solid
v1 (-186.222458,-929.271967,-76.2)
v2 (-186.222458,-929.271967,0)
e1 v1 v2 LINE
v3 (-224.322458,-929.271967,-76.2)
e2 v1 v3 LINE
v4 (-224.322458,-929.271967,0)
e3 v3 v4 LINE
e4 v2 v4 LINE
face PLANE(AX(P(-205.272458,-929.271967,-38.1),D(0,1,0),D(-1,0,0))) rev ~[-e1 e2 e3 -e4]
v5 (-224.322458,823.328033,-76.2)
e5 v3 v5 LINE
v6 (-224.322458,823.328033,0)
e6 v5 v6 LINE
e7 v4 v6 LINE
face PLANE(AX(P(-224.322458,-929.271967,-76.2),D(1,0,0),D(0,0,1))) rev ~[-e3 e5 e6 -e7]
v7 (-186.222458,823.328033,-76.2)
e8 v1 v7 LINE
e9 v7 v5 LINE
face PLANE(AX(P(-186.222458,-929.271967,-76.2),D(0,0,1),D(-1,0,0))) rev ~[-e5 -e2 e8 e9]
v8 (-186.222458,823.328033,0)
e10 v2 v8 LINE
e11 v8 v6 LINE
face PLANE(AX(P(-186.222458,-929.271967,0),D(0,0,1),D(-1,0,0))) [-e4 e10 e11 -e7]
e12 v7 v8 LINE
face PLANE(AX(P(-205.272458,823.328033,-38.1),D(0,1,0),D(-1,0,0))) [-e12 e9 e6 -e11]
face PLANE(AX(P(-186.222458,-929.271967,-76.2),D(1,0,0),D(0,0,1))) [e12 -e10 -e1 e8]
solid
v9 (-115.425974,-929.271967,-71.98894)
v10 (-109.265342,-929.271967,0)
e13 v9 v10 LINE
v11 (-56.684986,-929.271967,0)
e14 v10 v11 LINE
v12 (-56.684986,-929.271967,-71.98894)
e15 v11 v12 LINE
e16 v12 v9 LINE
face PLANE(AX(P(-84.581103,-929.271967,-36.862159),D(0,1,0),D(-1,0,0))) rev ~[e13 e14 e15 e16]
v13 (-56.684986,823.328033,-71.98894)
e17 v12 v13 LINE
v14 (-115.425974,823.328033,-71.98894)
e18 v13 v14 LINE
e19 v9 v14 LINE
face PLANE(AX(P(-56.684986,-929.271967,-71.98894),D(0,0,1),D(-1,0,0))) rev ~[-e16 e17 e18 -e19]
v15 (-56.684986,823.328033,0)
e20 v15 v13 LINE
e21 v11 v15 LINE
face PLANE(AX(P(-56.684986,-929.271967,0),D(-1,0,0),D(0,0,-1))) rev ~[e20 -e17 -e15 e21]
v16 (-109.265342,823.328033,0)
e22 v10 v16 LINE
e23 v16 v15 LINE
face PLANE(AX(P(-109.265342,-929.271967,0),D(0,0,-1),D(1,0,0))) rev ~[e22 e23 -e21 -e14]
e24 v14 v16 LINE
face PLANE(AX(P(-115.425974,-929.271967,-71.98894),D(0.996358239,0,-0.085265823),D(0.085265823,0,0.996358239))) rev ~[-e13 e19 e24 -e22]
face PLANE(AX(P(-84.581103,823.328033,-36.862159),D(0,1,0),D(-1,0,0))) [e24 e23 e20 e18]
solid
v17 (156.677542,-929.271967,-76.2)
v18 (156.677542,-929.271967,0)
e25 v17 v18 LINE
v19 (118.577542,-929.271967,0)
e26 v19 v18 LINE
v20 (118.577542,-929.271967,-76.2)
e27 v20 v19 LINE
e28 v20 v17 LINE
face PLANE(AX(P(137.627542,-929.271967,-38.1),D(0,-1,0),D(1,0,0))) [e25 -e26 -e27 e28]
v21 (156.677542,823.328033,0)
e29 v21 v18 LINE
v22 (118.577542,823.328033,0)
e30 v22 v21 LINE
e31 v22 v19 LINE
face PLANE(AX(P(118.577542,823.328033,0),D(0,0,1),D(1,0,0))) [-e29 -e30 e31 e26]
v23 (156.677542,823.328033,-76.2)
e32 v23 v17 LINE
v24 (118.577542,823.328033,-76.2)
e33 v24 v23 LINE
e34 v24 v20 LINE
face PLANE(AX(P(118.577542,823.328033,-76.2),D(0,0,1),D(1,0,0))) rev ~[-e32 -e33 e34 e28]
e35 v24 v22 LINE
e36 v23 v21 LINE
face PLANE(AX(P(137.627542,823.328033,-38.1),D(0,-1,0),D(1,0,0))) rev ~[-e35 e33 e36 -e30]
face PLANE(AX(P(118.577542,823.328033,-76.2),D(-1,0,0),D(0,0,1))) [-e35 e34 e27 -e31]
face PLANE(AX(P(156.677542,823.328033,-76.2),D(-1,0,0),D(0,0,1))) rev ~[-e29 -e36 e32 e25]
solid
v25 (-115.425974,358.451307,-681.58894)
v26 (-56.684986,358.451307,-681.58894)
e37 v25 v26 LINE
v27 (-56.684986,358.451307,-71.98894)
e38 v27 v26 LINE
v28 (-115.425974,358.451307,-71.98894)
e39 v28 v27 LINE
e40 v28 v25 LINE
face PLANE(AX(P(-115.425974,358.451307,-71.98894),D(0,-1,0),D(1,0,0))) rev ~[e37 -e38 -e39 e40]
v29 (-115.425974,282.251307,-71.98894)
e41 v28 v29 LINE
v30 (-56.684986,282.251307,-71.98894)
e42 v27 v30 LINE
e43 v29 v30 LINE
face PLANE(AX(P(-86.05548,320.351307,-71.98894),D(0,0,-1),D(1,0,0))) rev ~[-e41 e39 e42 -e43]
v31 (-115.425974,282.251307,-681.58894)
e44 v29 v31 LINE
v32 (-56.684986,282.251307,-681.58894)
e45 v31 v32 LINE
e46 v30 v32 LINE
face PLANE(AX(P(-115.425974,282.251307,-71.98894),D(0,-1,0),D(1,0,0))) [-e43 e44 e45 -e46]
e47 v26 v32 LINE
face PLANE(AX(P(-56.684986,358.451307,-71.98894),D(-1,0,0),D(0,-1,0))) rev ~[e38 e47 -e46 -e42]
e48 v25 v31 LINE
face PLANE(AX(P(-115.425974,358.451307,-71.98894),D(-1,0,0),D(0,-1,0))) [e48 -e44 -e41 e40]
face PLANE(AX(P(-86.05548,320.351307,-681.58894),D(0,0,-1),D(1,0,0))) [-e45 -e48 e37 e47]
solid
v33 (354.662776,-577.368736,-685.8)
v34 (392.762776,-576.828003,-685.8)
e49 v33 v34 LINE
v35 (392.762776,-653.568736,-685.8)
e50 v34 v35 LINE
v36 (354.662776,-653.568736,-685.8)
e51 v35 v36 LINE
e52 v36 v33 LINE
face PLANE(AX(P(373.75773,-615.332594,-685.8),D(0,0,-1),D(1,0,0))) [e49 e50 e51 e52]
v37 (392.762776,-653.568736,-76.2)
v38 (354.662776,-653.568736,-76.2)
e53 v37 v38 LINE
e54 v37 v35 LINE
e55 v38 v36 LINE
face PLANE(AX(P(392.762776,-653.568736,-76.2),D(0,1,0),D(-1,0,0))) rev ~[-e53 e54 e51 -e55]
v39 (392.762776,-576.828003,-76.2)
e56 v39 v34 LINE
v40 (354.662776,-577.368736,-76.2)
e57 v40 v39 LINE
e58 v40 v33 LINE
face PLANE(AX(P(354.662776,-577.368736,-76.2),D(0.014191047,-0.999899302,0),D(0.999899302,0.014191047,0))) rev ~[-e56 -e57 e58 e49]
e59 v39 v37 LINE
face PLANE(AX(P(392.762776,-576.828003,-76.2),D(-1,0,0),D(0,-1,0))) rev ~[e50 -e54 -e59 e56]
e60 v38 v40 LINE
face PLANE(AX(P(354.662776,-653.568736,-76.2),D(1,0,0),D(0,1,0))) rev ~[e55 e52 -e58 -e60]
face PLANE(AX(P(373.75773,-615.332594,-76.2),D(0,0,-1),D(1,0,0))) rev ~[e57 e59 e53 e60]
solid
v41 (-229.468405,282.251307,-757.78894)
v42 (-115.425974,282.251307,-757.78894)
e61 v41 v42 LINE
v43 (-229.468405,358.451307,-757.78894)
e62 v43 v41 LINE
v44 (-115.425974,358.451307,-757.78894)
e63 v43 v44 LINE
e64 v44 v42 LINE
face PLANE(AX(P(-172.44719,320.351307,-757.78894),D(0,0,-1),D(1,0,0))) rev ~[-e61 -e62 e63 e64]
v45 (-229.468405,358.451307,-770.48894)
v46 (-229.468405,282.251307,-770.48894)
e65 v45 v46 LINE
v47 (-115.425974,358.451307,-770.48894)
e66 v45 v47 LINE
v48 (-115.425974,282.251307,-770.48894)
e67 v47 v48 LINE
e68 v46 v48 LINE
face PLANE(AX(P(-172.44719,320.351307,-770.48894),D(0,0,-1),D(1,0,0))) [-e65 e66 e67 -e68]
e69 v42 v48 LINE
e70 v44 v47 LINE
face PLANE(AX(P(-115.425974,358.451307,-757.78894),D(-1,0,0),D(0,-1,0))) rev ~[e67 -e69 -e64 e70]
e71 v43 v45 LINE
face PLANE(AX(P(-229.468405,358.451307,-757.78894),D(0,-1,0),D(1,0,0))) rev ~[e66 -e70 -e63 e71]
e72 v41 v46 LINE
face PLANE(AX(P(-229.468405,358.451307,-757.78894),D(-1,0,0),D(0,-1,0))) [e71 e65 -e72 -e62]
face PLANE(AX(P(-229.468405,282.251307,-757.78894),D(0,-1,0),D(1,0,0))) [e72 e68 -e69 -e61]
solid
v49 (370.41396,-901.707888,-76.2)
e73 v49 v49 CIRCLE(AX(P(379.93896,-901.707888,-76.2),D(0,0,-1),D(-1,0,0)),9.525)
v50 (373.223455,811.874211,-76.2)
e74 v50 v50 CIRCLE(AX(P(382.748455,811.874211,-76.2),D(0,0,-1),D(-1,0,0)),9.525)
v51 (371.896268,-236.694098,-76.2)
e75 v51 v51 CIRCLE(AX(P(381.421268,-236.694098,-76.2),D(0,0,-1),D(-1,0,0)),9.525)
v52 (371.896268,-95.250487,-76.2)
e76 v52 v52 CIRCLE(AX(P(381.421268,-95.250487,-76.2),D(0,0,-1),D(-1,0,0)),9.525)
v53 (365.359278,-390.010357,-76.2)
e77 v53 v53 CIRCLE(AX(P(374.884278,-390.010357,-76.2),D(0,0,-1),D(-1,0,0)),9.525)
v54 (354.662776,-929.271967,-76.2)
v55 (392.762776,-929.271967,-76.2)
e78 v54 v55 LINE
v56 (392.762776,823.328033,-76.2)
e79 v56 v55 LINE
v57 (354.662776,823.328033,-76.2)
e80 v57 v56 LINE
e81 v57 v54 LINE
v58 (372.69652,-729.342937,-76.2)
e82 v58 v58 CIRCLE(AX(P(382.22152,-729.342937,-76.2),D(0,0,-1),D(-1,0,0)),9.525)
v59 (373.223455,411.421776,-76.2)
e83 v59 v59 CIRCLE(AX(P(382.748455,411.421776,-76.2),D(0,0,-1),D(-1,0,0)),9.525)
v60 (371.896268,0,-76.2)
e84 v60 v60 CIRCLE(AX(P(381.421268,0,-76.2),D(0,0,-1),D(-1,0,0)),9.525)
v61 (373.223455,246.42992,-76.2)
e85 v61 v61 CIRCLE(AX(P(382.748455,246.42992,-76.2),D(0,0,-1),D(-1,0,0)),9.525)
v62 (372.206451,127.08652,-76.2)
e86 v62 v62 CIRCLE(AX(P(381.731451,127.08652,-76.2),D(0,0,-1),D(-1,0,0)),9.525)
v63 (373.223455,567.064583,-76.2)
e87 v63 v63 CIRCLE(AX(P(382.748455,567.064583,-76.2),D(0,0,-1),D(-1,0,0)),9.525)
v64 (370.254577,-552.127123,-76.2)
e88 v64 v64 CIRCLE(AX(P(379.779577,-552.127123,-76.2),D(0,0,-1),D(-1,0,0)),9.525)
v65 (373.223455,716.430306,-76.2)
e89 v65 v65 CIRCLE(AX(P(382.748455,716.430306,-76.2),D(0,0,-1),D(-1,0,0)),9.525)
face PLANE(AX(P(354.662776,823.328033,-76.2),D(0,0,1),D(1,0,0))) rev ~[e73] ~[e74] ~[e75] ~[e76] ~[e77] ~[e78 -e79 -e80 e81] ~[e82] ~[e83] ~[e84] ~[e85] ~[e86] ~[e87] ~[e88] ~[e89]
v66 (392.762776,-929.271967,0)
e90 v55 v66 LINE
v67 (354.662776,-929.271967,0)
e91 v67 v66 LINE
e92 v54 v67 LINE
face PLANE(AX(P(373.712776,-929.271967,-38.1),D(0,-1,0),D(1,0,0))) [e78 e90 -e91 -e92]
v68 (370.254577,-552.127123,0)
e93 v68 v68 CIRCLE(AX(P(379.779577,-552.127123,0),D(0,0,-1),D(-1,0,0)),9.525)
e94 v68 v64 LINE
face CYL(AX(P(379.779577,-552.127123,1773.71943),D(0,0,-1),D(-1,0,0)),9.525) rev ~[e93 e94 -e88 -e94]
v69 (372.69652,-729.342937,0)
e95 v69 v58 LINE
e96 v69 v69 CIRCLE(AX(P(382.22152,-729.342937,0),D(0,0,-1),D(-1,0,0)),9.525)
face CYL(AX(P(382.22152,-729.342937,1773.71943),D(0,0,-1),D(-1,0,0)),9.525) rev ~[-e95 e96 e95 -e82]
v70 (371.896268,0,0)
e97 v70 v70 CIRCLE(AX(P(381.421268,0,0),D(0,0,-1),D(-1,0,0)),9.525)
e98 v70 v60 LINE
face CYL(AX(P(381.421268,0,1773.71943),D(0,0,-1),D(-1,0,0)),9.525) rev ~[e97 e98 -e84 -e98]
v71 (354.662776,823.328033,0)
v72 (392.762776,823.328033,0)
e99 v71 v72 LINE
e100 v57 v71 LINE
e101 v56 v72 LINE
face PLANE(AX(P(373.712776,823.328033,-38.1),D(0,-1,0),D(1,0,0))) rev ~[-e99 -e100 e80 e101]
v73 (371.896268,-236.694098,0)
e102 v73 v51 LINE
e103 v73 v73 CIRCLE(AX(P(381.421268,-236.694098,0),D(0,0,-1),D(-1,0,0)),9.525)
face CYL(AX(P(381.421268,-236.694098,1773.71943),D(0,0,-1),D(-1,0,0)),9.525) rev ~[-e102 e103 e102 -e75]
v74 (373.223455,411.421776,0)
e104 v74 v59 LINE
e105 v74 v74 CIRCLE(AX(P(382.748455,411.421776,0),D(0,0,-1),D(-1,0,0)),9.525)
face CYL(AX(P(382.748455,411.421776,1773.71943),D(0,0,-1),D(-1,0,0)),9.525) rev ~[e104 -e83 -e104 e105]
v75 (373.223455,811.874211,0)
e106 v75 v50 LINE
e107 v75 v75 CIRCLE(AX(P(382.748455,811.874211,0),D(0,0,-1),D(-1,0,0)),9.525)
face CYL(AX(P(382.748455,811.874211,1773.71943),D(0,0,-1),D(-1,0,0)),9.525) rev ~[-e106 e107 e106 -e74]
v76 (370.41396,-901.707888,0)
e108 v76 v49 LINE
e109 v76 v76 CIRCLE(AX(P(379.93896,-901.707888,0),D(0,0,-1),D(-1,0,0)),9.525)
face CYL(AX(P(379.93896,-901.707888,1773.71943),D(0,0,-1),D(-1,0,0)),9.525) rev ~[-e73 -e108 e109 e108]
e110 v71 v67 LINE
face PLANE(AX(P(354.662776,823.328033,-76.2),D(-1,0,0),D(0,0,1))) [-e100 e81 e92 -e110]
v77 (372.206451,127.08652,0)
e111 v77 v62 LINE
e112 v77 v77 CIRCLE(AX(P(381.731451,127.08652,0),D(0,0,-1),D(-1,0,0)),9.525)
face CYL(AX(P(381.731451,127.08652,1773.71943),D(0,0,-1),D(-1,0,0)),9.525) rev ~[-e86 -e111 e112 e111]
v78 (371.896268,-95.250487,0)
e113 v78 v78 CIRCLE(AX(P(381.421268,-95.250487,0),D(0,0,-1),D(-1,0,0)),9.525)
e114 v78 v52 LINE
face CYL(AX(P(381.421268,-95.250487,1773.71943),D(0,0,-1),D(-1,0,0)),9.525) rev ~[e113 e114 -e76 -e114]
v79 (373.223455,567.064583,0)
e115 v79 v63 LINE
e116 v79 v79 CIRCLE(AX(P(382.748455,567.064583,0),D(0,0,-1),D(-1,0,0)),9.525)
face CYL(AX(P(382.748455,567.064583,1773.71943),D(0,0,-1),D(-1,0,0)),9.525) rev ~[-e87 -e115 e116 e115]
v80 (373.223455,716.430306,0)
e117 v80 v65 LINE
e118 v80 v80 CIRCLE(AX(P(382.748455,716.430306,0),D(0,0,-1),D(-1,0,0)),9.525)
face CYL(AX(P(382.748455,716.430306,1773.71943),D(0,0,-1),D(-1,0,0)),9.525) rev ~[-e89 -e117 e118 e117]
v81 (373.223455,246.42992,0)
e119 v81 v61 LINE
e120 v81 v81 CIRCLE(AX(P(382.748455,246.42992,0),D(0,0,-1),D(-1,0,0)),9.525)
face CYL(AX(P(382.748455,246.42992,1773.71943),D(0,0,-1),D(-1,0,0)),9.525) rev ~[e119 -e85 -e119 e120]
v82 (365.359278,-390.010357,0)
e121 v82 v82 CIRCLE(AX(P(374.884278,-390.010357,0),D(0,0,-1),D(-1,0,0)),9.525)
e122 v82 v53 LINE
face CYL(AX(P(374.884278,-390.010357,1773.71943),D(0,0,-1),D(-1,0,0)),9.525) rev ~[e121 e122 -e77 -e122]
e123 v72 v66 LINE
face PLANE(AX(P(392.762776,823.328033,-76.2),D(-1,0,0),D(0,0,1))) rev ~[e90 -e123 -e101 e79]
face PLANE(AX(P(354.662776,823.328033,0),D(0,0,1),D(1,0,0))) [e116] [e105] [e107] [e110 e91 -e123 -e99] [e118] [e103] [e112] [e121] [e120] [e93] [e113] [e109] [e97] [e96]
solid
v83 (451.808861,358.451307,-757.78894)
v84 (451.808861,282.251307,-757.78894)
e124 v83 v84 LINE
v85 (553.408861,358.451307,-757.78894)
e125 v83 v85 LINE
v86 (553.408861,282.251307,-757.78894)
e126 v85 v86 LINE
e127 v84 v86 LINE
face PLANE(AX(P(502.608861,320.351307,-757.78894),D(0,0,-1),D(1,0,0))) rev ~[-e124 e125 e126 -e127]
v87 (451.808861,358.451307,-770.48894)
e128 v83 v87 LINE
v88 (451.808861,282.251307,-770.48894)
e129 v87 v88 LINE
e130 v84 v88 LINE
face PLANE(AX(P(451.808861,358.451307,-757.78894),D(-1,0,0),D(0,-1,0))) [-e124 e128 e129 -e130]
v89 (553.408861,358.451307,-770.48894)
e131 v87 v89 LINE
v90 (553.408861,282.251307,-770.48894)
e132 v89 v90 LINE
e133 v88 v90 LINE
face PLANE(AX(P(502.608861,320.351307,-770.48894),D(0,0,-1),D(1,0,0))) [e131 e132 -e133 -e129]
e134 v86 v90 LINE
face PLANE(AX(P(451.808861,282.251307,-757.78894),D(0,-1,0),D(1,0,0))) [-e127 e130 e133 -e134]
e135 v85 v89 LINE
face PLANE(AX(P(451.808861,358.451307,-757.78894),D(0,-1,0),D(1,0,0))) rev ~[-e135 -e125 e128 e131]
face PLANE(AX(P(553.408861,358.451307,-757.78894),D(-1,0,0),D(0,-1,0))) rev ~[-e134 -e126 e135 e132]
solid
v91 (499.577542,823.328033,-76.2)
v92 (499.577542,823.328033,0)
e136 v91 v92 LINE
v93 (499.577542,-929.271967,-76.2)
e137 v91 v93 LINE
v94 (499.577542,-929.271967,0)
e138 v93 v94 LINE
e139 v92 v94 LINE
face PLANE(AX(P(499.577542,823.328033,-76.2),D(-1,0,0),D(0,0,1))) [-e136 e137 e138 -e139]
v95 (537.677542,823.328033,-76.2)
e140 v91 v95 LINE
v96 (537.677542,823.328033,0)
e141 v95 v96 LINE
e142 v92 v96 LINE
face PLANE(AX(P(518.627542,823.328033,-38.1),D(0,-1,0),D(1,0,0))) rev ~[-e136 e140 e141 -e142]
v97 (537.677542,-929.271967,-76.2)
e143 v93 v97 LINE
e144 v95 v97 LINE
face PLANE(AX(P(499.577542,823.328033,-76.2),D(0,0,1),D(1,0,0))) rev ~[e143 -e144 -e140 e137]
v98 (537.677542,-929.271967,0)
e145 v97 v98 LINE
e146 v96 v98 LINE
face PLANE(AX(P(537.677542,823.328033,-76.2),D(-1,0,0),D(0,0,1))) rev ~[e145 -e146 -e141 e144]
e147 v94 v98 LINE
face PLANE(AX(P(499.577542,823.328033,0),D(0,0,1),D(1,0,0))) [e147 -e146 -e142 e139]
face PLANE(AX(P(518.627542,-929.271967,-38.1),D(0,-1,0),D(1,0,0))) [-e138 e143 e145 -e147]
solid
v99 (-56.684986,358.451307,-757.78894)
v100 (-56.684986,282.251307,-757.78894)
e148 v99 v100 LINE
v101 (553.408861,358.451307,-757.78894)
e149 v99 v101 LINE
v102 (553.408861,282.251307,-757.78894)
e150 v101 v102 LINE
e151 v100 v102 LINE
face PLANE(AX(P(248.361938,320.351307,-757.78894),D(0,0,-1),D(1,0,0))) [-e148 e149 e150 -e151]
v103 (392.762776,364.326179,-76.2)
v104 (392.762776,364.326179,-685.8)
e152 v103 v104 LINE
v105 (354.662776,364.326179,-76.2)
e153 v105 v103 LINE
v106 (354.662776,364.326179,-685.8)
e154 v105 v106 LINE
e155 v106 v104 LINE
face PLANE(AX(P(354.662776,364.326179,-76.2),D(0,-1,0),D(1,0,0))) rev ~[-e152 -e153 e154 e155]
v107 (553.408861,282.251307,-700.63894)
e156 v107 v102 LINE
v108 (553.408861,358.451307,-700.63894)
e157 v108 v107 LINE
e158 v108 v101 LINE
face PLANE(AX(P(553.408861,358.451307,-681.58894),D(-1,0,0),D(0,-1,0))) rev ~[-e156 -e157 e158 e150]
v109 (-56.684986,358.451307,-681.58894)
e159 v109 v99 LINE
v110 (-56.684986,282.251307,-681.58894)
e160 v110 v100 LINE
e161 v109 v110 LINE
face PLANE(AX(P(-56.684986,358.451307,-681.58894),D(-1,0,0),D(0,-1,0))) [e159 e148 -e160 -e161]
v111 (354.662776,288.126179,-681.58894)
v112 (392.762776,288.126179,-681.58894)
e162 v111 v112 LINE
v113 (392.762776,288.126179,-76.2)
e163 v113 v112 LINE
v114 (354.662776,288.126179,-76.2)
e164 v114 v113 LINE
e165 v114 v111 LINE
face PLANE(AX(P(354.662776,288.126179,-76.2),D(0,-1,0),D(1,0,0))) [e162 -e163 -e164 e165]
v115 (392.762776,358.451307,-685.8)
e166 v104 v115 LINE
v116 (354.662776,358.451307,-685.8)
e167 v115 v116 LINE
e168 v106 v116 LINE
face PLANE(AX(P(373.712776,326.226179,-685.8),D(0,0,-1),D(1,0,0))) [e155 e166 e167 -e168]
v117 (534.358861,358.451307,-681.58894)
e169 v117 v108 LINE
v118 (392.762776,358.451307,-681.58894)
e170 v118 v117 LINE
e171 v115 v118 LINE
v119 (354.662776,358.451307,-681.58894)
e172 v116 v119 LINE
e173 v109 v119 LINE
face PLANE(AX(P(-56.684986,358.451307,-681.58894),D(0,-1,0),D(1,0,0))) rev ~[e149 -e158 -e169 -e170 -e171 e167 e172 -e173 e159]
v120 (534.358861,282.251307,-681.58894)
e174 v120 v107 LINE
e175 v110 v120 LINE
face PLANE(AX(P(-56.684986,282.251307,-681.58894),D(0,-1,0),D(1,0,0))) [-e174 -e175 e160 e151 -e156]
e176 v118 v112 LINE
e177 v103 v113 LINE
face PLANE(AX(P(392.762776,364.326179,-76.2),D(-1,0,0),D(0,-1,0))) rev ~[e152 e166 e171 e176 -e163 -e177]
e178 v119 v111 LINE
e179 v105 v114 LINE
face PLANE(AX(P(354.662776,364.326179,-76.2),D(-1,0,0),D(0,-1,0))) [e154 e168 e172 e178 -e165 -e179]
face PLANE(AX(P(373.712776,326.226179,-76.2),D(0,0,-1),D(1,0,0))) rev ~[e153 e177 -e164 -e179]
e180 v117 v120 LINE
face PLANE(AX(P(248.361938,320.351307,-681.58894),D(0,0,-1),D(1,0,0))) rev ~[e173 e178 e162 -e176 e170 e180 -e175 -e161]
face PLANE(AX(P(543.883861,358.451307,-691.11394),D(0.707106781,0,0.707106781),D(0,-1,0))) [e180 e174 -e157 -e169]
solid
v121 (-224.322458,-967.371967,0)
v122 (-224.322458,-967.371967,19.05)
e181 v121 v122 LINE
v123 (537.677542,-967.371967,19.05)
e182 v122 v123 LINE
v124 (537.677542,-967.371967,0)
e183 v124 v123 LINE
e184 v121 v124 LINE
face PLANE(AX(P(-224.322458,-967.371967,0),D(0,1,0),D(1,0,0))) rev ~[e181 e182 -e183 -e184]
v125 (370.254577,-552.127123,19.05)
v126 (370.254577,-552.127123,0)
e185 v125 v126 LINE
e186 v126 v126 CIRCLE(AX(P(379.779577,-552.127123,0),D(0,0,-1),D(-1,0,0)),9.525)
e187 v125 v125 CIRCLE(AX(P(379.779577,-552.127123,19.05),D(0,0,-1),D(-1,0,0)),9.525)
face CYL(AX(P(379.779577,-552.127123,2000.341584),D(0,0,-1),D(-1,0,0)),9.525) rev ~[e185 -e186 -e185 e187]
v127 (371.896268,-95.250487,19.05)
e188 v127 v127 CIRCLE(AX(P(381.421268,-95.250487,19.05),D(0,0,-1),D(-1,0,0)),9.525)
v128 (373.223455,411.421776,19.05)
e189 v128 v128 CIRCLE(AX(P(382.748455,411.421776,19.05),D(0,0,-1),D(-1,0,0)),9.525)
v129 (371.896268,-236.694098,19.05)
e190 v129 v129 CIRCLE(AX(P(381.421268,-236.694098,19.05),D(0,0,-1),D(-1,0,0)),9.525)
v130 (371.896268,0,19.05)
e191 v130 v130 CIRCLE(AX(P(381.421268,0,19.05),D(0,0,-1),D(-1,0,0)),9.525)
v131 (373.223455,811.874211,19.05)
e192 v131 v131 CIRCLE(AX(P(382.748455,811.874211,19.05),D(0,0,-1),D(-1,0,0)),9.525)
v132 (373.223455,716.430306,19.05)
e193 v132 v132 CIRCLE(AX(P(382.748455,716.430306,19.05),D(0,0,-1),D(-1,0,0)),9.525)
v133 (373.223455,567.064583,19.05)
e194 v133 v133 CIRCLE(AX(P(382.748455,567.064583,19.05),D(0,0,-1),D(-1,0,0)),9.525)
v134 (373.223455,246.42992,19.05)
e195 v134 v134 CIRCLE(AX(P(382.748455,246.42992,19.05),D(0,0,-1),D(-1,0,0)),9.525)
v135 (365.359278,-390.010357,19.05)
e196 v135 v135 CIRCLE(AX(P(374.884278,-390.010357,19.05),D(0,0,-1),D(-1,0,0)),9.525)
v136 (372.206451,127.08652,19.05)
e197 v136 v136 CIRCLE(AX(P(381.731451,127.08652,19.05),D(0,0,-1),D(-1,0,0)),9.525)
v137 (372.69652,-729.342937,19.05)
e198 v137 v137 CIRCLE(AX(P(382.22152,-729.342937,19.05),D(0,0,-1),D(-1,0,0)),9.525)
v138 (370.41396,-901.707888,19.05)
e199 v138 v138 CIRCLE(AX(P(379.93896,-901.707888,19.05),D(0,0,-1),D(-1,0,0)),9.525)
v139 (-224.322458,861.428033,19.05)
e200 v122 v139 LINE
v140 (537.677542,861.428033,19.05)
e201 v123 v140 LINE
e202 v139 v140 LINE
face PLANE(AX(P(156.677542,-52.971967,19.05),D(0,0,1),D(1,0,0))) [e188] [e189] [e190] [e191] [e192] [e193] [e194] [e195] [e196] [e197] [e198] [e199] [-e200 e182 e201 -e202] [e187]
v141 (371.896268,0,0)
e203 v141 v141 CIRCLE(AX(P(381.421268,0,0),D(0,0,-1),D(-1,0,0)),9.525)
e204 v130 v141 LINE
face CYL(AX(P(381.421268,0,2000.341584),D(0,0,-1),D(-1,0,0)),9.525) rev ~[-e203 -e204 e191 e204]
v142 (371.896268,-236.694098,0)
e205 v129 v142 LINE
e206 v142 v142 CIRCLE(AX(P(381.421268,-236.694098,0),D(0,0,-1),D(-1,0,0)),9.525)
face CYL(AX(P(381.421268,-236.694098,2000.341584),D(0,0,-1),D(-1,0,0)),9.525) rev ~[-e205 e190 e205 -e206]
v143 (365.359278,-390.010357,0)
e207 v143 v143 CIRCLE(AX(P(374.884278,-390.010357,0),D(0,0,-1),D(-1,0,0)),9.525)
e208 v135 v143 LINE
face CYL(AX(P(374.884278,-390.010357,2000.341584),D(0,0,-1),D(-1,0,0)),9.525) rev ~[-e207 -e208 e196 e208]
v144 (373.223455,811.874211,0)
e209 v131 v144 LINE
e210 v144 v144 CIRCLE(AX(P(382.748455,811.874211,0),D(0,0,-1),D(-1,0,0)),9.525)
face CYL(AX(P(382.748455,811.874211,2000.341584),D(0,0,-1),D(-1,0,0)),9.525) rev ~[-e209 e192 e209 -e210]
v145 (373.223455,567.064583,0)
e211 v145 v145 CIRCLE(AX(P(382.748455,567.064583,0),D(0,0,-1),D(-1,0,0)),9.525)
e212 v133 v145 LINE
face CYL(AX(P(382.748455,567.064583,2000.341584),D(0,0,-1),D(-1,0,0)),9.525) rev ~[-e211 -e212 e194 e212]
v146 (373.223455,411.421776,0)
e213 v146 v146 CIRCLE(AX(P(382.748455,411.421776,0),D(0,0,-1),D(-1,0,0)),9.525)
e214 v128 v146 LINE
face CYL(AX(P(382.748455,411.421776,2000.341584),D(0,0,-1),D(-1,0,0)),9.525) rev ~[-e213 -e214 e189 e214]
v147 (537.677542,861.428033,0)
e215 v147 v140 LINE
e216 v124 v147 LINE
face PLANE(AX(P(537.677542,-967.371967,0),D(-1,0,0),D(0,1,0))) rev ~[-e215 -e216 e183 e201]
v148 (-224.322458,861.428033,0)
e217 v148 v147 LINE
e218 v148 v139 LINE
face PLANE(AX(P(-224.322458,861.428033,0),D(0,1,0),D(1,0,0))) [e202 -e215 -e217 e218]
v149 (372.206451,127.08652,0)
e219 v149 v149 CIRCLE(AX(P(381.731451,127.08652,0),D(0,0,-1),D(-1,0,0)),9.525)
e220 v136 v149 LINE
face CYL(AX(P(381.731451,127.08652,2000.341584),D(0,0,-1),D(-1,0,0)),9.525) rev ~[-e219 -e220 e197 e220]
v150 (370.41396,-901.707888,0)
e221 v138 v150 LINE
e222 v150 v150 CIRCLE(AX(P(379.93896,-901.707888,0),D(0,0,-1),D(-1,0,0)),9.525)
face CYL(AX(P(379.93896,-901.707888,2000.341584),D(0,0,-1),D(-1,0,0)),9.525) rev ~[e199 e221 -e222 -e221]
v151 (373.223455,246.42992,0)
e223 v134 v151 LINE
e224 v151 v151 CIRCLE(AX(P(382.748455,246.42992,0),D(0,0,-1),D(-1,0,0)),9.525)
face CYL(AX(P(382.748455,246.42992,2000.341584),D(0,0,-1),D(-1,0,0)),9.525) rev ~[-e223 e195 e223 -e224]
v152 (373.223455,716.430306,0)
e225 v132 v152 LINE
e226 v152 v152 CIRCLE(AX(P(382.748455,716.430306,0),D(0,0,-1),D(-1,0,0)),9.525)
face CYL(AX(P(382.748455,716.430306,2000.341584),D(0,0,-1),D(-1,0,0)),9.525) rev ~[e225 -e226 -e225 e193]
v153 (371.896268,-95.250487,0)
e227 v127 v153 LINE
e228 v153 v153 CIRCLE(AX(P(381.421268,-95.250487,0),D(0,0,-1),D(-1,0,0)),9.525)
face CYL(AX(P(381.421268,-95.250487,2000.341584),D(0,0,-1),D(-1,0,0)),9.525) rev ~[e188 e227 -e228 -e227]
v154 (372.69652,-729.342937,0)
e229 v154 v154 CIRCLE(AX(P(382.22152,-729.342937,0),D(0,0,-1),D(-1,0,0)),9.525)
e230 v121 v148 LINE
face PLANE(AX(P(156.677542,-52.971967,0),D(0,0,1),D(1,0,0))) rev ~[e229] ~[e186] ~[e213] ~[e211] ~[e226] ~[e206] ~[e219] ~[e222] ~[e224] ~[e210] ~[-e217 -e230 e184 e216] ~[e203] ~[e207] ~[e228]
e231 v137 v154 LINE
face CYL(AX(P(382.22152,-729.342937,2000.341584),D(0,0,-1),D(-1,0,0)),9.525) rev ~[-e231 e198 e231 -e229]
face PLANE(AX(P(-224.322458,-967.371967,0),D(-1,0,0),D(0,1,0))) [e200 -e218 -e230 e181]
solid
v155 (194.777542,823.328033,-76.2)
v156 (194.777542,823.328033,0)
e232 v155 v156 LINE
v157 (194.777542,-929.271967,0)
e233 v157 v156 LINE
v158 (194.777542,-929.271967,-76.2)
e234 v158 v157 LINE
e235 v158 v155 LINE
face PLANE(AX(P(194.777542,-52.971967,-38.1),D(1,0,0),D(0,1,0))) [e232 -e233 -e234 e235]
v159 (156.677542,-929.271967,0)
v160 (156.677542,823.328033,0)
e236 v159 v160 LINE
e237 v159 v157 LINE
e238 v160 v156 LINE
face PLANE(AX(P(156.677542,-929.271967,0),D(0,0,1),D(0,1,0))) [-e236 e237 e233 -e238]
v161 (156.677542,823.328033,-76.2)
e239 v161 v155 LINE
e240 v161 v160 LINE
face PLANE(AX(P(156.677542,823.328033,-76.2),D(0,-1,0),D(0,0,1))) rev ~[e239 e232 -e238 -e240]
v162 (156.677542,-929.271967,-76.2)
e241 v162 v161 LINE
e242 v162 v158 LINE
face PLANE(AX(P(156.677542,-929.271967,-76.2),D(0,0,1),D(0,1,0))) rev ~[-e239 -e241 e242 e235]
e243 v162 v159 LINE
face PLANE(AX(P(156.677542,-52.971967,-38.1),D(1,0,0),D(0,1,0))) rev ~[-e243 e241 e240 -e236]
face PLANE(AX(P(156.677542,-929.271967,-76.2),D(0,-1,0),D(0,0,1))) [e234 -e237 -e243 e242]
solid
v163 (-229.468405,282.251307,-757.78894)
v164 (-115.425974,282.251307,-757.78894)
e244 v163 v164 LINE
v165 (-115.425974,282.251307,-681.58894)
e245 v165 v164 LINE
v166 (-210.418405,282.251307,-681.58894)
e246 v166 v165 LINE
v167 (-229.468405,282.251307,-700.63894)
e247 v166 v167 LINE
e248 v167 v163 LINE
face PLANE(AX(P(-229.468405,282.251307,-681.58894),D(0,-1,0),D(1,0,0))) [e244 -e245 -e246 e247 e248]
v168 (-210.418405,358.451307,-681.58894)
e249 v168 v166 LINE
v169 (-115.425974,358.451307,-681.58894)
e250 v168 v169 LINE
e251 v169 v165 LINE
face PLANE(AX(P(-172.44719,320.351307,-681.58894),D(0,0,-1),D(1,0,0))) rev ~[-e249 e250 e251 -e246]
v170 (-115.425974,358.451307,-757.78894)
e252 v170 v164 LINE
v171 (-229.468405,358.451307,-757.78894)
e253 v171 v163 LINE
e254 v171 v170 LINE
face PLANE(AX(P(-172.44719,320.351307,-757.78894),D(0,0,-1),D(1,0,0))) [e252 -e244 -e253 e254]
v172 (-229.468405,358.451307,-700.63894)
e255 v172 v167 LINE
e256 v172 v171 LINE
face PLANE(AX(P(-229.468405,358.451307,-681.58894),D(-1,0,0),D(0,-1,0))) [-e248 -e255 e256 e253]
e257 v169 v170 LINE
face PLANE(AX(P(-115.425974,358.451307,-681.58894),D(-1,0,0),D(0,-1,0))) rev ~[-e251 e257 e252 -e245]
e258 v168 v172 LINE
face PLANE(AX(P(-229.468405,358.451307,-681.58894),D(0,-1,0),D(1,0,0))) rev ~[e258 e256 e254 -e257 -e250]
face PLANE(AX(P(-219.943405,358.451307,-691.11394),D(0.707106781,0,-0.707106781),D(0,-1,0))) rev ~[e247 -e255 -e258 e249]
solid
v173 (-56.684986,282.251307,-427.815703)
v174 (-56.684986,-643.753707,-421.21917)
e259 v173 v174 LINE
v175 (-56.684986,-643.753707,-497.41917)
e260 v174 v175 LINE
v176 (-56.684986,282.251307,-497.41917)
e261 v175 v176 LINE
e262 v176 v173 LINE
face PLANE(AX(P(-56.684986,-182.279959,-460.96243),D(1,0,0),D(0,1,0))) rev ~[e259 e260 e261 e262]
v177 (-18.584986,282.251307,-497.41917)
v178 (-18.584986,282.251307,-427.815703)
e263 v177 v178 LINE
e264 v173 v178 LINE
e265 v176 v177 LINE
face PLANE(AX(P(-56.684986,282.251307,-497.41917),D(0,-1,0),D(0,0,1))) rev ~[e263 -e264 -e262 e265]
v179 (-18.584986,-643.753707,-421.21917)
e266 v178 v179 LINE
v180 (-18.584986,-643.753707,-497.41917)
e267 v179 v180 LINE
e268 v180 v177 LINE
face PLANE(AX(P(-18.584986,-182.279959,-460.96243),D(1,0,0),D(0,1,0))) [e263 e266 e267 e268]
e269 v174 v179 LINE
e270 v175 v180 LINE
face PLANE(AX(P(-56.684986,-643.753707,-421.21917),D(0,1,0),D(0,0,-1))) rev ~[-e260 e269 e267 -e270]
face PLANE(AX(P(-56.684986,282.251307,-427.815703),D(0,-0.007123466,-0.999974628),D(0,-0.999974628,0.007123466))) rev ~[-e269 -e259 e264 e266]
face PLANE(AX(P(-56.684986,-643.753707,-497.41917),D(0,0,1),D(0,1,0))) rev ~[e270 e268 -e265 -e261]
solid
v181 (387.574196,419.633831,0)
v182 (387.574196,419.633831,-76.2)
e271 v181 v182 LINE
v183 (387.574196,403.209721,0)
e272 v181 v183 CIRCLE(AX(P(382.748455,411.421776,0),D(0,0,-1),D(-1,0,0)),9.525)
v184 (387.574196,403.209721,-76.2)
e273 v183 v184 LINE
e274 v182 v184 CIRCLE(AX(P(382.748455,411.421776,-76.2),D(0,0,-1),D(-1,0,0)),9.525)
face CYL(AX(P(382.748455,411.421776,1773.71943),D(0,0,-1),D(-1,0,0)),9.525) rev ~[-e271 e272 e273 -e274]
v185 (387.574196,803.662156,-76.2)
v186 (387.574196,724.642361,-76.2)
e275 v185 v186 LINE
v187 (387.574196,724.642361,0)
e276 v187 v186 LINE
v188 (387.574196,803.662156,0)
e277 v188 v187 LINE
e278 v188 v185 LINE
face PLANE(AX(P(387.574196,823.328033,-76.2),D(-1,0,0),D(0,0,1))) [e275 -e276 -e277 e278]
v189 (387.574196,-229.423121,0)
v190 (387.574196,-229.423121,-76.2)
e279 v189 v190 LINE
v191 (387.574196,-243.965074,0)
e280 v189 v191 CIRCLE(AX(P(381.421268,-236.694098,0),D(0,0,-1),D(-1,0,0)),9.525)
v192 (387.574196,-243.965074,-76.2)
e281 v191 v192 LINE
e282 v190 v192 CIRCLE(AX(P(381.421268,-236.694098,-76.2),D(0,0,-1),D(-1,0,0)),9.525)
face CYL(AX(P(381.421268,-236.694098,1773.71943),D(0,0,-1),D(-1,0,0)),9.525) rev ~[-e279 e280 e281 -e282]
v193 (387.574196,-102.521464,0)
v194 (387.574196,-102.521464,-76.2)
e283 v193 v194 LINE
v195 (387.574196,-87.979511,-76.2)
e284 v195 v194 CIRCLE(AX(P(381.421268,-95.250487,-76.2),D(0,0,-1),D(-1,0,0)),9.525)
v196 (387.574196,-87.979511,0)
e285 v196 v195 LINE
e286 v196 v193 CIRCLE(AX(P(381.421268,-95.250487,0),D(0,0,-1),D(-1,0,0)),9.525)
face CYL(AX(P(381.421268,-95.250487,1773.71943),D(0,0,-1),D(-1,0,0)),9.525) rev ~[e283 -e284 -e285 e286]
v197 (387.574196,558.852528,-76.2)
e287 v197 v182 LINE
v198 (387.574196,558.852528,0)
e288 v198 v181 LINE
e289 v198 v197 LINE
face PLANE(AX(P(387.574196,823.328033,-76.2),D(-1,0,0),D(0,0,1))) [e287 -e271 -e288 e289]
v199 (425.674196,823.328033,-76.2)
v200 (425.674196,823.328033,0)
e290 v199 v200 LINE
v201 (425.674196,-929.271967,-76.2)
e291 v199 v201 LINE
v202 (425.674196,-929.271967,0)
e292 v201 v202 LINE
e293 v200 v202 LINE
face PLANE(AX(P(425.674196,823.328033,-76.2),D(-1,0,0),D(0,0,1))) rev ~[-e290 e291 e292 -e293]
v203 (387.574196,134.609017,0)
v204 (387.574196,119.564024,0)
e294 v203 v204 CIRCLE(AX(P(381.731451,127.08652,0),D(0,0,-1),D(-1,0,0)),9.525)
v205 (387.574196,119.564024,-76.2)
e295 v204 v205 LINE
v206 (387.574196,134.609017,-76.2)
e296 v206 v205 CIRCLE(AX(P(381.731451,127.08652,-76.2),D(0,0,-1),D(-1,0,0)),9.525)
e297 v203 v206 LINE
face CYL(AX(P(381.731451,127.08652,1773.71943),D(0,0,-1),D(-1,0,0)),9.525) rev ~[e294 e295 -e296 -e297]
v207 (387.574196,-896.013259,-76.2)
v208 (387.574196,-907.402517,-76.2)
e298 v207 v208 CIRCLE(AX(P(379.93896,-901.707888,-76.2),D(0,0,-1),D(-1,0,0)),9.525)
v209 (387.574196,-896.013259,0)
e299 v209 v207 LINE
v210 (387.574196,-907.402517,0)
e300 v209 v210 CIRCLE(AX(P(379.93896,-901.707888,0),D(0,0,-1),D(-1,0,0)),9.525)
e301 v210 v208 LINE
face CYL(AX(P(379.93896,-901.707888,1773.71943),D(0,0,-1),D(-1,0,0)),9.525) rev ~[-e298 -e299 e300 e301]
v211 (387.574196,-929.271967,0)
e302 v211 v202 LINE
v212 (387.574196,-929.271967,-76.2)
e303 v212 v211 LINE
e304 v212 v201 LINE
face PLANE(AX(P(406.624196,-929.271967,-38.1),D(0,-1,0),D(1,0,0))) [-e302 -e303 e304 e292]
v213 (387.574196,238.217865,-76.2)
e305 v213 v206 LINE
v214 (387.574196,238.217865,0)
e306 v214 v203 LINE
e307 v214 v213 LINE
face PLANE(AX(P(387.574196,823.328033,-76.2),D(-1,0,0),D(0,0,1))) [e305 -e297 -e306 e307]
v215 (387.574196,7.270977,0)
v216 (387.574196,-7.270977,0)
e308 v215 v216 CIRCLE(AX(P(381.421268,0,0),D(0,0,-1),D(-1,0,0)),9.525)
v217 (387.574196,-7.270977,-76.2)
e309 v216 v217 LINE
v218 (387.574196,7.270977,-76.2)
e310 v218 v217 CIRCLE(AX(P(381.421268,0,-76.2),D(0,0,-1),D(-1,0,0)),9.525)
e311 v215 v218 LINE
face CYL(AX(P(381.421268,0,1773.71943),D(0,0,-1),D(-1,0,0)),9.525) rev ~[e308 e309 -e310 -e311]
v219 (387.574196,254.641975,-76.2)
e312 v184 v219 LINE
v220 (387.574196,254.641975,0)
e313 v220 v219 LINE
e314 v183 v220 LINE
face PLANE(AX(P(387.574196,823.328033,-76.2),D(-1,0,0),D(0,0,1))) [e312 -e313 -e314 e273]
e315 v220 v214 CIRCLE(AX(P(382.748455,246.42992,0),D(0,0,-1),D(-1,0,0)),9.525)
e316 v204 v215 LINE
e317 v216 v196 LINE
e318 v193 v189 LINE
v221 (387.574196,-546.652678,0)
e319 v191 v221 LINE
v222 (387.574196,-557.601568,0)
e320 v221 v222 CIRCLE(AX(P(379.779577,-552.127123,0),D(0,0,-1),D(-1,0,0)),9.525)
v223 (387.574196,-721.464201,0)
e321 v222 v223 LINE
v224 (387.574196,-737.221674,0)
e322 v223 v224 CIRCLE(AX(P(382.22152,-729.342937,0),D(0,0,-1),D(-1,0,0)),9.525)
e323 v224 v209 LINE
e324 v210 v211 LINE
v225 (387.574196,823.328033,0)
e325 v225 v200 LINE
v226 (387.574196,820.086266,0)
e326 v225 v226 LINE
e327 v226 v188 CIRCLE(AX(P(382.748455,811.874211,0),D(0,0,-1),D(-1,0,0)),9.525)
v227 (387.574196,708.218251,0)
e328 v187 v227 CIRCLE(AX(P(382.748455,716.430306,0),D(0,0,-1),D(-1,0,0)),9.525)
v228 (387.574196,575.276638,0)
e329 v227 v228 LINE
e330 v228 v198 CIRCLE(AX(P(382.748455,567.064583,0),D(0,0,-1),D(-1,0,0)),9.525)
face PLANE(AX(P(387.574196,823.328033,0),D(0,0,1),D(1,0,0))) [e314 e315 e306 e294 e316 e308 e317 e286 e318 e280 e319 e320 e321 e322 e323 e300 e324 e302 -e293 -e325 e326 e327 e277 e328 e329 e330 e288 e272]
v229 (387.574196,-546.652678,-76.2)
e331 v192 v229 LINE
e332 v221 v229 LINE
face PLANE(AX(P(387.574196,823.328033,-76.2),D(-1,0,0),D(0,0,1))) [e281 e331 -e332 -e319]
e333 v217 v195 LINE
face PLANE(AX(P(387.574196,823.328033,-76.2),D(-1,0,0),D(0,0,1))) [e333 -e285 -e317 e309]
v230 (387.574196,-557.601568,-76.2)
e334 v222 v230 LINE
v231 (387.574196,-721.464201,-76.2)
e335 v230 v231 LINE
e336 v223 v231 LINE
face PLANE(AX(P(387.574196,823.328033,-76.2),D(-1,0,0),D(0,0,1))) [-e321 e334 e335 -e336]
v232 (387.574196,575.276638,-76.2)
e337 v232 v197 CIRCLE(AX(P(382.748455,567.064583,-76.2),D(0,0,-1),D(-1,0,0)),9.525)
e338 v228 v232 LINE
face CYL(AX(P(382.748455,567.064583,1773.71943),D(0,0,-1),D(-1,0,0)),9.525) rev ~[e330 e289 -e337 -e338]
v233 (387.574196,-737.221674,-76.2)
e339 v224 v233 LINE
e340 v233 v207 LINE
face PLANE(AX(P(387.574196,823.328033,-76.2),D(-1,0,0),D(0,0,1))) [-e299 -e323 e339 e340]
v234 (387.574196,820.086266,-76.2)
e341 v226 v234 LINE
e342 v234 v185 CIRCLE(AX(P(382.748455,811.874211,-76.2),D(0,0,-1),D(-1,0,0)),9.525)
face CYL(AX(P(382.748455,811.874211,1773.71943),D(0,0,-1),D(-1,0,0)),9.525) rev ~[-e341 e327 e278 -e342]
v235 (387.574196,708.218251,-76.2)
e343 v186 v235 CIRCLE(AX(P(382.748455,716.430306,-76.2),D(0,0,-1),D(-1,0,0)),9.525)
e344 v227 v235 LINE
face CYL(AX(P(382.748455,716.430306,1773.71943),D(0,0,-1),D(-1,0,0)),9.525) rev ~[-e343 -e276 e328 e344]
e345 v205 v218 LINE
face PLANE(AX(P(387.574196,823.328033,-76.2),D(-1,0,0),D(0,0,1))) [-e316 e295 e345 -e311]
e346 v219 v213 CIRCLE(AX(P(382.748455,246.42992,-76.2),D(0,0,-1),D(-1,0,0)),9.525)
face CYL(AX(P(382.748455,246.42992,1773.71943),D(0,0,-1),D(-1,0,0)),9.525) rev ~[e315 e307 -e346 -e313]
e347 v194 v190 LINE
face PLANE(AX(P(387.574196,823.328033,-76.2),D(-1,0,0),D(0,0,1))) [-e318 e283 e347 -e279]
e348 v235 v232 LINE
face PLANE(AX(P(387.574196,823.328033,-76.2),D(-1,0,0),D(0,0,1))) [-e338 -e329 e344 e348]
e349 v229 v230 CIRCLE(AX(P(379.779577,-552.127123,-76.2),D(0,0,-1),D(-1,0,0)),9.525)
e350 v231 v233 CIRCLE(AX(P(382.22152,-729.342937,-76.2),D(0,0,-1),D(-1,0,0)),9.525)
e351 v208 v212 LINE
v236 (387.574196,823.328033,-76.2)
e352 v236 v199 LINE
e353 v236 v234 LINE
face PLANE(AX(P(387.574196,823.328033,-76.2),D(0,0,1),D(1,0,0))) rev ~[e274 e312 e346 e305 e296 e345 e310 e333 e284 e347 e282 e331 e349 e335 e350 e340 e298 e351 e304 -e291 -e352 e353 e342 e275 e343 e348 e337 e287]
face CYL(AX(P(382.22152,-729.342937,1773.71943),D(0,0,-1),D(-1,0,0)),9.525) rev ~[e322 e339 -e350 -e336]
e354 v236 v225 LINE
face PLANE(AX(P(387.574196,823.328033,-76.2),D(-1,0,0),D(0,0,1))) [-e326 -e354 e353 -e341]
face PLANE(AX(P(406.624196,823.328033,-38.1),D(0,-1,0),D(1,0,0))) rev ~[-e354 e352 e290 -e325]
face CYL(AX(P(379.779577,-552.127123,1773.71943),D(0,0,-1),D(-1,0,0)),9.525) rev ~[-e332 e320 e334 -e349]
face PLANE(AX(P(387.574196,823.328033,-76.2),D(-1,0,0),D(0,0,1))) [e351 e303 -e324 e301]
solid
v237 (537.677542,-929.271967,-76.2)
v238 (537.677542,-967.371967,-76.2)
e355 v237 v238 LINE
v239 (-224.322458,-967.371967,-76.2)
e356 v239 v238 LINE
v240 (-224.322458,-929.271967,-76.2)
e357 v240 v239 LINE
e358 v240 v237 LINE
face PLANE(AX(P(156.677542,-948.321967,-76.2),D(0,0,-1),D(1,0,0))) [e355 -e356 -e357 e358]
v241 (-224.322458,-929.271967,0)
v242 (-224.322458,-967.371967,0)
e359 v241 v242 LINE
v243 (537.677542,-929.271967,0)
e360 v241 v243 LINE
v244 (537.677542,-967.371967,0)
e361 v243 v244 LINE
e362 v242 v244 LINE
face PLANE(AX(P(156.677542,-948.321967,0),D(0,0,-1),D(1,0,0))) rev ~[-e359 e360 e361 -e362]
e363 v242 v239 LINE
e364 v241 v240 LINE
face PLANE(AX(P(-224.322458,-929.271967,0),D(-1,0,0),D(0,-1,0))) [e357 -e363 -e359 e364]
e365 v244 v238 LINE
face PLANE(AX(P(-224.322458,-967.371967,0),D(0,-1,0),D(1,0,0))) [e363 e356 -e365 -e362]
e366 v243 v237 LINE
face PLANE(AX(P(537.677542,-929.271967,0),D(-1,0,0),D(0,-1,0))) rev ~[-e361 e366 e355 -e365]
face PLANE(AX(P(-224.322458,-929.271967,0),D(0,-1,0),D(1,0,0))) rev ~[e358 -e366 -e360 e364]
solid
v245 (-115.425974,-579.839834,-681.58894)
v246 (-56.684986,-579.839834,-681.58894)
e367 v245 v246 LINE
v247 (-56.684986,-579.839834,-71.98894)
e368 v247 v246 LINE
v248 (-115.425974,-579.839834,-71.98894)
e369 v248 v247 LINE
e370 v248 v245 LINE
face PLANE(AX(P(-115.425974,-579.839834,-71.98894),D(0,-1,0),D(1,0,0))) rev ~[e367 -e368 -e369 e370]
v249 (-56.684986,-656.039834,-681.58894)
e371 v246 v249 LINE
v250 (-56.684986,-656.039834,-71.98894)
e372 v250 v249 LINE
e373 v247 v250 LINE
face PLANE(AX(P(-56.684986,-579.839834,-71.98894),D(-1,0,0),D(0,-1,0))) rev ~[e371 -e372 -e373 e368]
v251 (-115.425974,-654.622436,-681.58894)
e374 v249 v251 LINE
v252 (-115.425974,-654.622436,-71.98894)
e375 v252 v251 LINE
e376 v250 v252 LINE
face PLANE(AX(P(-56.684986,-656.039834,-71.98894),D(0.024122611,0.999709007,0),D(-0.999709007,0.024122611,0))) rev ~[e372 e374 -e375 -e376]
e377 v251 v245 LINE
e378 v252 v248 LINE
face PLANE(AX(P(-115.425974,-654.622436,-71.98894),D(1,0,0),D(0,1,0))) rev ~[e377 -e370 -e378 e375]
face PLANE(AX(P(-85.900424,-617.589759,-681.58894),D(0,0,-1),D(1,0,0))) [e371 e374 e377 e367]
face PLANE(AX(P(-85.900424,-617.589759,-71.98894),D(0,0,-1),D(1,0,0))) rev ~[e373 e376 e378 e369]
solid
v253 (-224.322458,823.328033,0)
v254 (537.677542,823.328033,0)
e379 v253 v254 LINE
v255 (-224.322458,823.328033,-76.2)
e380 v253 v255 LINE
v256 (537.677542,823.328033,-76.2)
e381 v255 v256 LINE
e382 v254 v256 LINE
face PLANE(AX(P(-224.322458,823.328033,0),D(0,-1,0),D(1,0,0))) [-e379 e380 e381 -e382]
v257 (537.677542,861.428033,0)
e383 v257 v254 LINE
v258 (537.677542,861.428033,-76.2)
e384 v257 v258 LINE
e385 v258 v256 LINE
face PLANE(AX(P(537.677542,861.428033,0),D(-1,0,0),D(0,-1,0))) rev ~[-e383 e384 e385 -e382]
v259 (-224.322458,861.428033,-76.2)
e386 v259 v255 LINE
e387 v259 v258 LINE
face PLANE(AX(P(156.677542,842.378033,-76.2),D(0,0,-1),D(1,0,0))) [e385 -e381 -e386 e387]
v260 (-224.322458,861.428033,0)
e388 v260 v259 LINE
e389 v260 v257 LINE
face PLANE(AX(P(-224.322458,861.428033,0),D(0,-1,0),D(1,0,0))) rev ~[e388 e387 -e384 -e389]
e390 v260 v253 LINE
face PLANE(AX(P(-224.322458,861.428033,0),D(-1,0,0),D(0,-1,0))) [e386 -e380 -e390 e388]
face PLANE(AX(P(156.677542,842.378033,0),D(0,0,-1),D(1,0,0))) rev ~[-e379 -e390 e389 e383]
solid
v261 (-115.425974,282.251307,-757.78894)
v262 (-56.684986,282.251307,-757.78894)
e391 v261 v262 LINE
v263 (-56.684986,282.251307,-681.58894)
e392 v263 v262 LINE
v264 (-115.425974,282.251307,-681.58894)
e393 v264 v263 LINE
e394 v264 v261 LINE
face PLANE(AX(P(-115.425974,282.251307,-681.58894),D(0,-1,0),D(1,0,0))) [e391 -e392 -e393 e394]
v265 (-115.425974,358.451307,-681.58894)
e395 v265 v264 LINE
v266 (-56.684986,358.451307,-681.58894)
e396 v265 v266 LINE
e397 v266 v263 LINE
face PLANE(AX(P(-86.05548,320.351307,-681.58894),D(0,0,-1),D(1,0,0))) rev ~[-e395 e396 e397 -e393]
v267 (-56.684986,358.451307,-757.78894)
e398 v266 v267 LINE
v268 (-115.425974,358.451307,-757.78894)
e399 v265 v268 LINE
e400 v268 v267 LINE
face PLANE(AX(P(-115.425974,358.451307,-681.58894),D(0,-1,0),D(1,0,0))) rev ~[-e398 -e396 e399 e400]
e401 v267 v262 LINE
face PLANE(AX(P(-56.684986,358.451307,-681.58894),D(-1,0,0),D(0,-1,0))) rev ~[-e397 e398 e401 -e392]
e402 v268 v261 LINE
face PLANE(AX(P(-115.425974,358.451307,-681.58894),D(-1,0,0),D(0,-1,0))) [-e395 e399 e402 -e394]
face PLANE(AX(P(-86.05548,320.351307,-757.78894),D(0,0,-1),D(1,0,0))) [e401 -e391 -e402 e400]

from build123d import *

# Parameters (mm, degrees)
F0_W       = 762
F0_H       = 1828.8
F1_DEPTH   = 19.05
F2_W       = 762
F2_H       = 38.1
F3_DEPTH   = 76.2
F4_W       = 762
F4_H       = 38.1
F5_DEPTH   = 76.2
F7_W       = 38.1
F7_H       = 76.2
F8_DEPTH   = 1752.6
F9_W       = 38.1
F9_H       = 76.2
F10_DEPTH  = 1752.6
F12_DEPTH  = 1752.6
F13_W      = 38.1
F13_H      = 76.2
F14_DEPTH  = 1752.6
F15_W      = 38.1
F15_H      = 76.2
F16_DEPTH  = 1752.6
F18_W      = 38.1
F18_H      = 76.2
F19_DEPTH  = 1752.6
F22_D      = 19.05
F22_2_D    = 19.05
F22_3_D    = 19.05
F24_DEPTH  = 609.6
F25_W      = 58.7409883738
F25_H      = 76.2
F26_DEPTH  = 609.6
F28_DEPTH  = 609.6
F29_W      = 38.1
F29_H      = 76.2
F30_DEPTH  = 609.6
F31_W      = 610.0938469172
F31_H      = 76.2
F31_W_2    = 114.0424311161
F32_DEPTH  = 76.2
F33_SIZE   = 19.05
F34_SIZE   = 19.05
F35_W      = 58.7409883738
F35_H      = 76.2
F36_DEPTH  = 76.2
F37_W      = 101.6
F37_H      = 76.2
F39_DEPTH  = 12.7
F38_W      = 114.0424311161
F38_H      = 76.2
F40_DEPTH  = 12.7
F14_FACE_W = 1752.6
F14_FACE_H = 76.2
F42_DEPTH  = 38.1


with BuildPart() as f1:
    # F0 (on Top) → F1 (new body)
    with BuildSketch(Plane.XY):
        with Locations((156.6775417852, -52.9719665647)):
            Rectangle(F0_W, F0_H)
    extrude(amount=F1_DEPTH)

    # F22 (through all)
    with Locations(Plane.XY.offset(19.05)):
        with Locations((381.7314505577, 127.086520195), (379.9389600754, -901.7078876495), (382.7484548092, 246.4299201965), (382.7484548092, 716.4303064346), (382.7484548092, 567.0645833015), (381.4212679863, -95.2504873276), (374.8842775822, -390.0103569031), (379.7795772552, -552.127122879), (382.2215199471, -729.3429374695), (382.7484548092, 811.8742108345), (381.4212679863, 0), (381.4212679863, -236.6940975189), (382.7484548092, 411.4217758179)):
            Hole(F22_D / 2)


with BuildPart() as f3:
    # F2 (on face) → F3 (new body)
    with BuildSketch(Plane(origin=(0, 0, 0), x_dir=(1, 0, 0), z_dir=(0, 0, -1))):
        with Locations((156.6775417852, 948.3219665647)):
            Rectangle(F2_W, F2_H)
    extrude(amount=F3_DEPTH)


with BuildPart() as f5:
    # F4 (on face) → F5 (new body)
    with BuildSketch(Plane(origin=(0, 0, 0), x_dir=(1, 0, 0), z_dir=(0, 0, -1))):
        with Locations((156.6775417852, -842.3780334353)):
            Rectangle(F4_W, F4_H)
    extrude(amount=F5_DEPTH)


with BuildPart() as f8:
    # F7 (on face) → F8 (new body)
    with BuildSketch(Plane(origin=(0, -929.2719665647, 0), x_dir=(-1, 0, 0), z_dir=(0, 1, 0))):
        with Locations((205.2724582148, -38.1)):
            Rectangle(F7_W, F7_H)
    extrude(amount=F8_DEPTH)


with BuildPart() as f10:
    # F9 (on face) → F10 (new body)
    with BuildSketch(Plane.XZ.offset(-823.3280334353)):
        with Locations((518.6275417852, -38.1)):
            Rectangle(F9_W, F9_H)
    extrude(amount=F10_DEPTH)


with BuildPart() as f12:
    # F11 (on face) → F12 (new body)
    with BuildSketch(Plane(origin=(0, -929.2719665647, 0), x_dir=(-1, 0, 0), z_dir=(0, 1, 0))):
        Polygon((115.4259741306, -71.988940239), (109.2653423548, 0), (56.6849857569, 0), (56.6849857569, -71.988940239), align=None)
    extrude(amount=F12_DEPTH)


with BuildPart() as f14:
    # F13 (on face) → F14 (new body)
    with BuildSketch(Plane.XZ.offset(-823.3280334353)):
        with Locations((137.6275417852, -38.1)):
            Rectangle(F13_W, F13_H)
    extrude(amount=F14_DEPTH)


with BuildPart() as f16:
    # F15 (on face) → F16 (new body)
    with BuildSketch(Plane.XZ.offset(-823.3280334353)):
        with Locations((406.6241958618, -38.1)):
            Rectangle(F15_W, F15_H)
    extrude(amount=F16_DEPTH)

    # F22#2 (through all)
    with Locations(Plane.XY.offset(19.05)):
        with Locations((381.7314505577, 127.086520195), (379.9389600754, -901.7078876495), (382.7484548092, 246.4299201965), (382.7484548092, 716.4303064346), (382.7484548092, 567.0645833015), (381.4212679863, -95.2504873276), (374.8842775822, -390.0103569031), (379.7795772552, -552.127122879), (382.2215199471, -729.3429374695), (382.7484548092, 811.8742108345), (381.4212679863, 0), (381.4212679863, -236.6940975189), (382.7484548092, 411.4217758179)):
            Hole(F22_2_D / 2)


with BuildPart() as f19:
    # F18 (on face) → F19 (new body)
    with BuildSketch(Plane.XZ.offset(-823.3280334353)):
        with Locations((373.7127759933, -38.1)):
            Rectangle(F18_W, F18_H)
    extrude(amount=F19_DEPTH)

    # F22#3 (through all)
    with Locations(Plane.XY.offset(19.05)):
        with Locations((381.7314505577, 127.086520195), (379.9389600754, -901.7078876495), (382.7484548092, 246.4299201965), (382.7484548092, 716.4303064346), (382.7484548092, 567.0645833015), (381.4212679863, -95.2504873276), (374.8842775822, -390.0103569031), (379.7795772552, -552.127122879), (382.2215199471, -729.3429374695), (382.7484548092, 811.8742108345), (381.4212679863, 0), (381.4212679863, -236.6940975189), (382.7484548092, 411.4217758179)):
            Hole(F22_3_D / 2)


with BuildPart() as f24:
    # F23 (on face) → F24 (new body)
    with BuildSketch(Plane(origin=(0, 0, -71.988940239), x_dir=(1, 0, 0), z_dir=(0, 0, -1))):
        Polygon((-56.6849857569, 656.0398340225), (-115.4259741306, 654.6224355698), (-115.4259741306, 579.8398340225), (-56.6849857569, 579.8398340225), align=None)
    extrude(amount=F24_DEPTH)


with BuildPart() as f26:
    # F25 (on face) → F26 (new body)
    with BuildSketch(Plane(origin=(0, 0, -71.988940239), x_dir=(1, 0, 0), z_dir=(0, 0, -1))):
        with Locations((-86.0554799438, -320.3513068199)):
            Rectangle(F25_W, F25_H)
    extrude(amount=F26_DEPTH)



with BuildPart() as f28:
    # F27 (on face) → F28 (new body)
    with BuildSketch(Plane(origin=(0, 0, -76.2), x_dir=(1, 0, 0), z_dir=(0, 0, -1))):
        Polygon((354.6627759933, 653.5687362671), (354.6627759933, 577.3687362671), (392.7627759933, 576.8280029297), (392.7627759933, 653.5687362671), align=None)
    extrude(amount=F28_DEPTH)


with BuildPart() as f30:
    # F29 (on face) → F30 (new body)
    with BuildSketch(Plane(origin=(0, 0, -76.2), x_dir=(1, 0, 0), z_dir=(0, 0, -1))):
        with Locations((373.7127759933, -326.2261790276)):
            Rectangle(F29_W, F29_H)
    extrude(amount=F30_DEPTH)


with BuildPart() as f26_1:
    add(f26.part)

    add(f30.part)  # F32 merges F30
    # F31 (on face) → F32 (join)
    with BuildSketch(Plane(origin=(0, 0, -681.588940239), x_dir=(1, 0, 0), z_dir=(0, 0, -1))):
        with Locations((248.3619377017, -320.3513068199)):
            Rectangle(F31_W, F31_H)
        with Locations((-172.4471896887, -320.3513068199)):
            Rectangle(F31_W_2, F31_H)
    extrude(amount=F32_DEPTH)

    # F33
    f33_edges = [f26_1.edges().sort_by_distance(p)[0] for p in [
        (553.408861, 320.351307, -681.58894),
    ]]
    chamfer(f33_edges, length=F33_SIZE)

    # F34
    f34_edges = [f26_1.edges().sort_by_distance(p)[0] for p in [
        (-229.468405, 320.351307, -681.58894),
    ]]
    chamfer(f34_edges, length=F34_SIZE)


with BuildPart() as f36:
    # F35 (on face) → F36 (new body)
    with BuildSketch(Plane(origin=(0, 0, -681.588940239), x_dir=(1, 0, 0), z_dir=(0, 0, -1))):
        with Locations((-86.0554799438, -320.3513068199)):
            Rectangle(F35_W, F35_H)
    extrude(amount=F36_DEPTH)


with BuildPart() as f39:
    # F37 (on face) → F39 (new body)
    with BuildSketch(Plane(origin=(0, 0, -757.788940239), x_dir=(1, 0, 0), z_dir=(0, 0, -1))):
        with Locations((502.6088611603, -320.3513068199)):
            Rectangle(F37_W, F37_H)
    extrude(amount=F39_DEPTH)


with BuildPart() as f40:
    # F38 (on face) → F40 (new body)
    with BuildSketch(Plane(origin=(0, 0, -757.788940239), x_dir=(1, 0, 0), z_dir=(0, 0, -1))):
        with Locations((-172.4471896887, -320.3513068199)):
            Rectangle(F38_W, F38_H)
    extrude(amount=F40_DEPTH)


with BuildPart() as f42:
    # F41 (on face) + F14_face (on face) → F42 (new body)
    with BuildSketch(Plane.YZ.offset(-56.6849857569)):
        Polygon((282.2513068199, -497.4191700935), (282.2513068199, -427.8157031211), (-643.7537074089, -421.2191700935), (-643.7537074089, -497.4191700935), align=None)
    with BuildSketch(Plane(origin=(156.6775417852, -52.9719665647, -38.1), x_dir=(0, 1, 0), z_dir=(1, 0, 0))):
        Rectangle(F14_FACE_W, F14_FACE_H)
    extrude(amount=F42_DEPTH)


solid = Compound([f1.part, f3.part, f5.part, f8.part, f10.part, f12.part, f14.part, f16.part, f19.part, f24.part, f28.part, f26_1.part, f36.part, f39.part, f40.part, f42.part])
